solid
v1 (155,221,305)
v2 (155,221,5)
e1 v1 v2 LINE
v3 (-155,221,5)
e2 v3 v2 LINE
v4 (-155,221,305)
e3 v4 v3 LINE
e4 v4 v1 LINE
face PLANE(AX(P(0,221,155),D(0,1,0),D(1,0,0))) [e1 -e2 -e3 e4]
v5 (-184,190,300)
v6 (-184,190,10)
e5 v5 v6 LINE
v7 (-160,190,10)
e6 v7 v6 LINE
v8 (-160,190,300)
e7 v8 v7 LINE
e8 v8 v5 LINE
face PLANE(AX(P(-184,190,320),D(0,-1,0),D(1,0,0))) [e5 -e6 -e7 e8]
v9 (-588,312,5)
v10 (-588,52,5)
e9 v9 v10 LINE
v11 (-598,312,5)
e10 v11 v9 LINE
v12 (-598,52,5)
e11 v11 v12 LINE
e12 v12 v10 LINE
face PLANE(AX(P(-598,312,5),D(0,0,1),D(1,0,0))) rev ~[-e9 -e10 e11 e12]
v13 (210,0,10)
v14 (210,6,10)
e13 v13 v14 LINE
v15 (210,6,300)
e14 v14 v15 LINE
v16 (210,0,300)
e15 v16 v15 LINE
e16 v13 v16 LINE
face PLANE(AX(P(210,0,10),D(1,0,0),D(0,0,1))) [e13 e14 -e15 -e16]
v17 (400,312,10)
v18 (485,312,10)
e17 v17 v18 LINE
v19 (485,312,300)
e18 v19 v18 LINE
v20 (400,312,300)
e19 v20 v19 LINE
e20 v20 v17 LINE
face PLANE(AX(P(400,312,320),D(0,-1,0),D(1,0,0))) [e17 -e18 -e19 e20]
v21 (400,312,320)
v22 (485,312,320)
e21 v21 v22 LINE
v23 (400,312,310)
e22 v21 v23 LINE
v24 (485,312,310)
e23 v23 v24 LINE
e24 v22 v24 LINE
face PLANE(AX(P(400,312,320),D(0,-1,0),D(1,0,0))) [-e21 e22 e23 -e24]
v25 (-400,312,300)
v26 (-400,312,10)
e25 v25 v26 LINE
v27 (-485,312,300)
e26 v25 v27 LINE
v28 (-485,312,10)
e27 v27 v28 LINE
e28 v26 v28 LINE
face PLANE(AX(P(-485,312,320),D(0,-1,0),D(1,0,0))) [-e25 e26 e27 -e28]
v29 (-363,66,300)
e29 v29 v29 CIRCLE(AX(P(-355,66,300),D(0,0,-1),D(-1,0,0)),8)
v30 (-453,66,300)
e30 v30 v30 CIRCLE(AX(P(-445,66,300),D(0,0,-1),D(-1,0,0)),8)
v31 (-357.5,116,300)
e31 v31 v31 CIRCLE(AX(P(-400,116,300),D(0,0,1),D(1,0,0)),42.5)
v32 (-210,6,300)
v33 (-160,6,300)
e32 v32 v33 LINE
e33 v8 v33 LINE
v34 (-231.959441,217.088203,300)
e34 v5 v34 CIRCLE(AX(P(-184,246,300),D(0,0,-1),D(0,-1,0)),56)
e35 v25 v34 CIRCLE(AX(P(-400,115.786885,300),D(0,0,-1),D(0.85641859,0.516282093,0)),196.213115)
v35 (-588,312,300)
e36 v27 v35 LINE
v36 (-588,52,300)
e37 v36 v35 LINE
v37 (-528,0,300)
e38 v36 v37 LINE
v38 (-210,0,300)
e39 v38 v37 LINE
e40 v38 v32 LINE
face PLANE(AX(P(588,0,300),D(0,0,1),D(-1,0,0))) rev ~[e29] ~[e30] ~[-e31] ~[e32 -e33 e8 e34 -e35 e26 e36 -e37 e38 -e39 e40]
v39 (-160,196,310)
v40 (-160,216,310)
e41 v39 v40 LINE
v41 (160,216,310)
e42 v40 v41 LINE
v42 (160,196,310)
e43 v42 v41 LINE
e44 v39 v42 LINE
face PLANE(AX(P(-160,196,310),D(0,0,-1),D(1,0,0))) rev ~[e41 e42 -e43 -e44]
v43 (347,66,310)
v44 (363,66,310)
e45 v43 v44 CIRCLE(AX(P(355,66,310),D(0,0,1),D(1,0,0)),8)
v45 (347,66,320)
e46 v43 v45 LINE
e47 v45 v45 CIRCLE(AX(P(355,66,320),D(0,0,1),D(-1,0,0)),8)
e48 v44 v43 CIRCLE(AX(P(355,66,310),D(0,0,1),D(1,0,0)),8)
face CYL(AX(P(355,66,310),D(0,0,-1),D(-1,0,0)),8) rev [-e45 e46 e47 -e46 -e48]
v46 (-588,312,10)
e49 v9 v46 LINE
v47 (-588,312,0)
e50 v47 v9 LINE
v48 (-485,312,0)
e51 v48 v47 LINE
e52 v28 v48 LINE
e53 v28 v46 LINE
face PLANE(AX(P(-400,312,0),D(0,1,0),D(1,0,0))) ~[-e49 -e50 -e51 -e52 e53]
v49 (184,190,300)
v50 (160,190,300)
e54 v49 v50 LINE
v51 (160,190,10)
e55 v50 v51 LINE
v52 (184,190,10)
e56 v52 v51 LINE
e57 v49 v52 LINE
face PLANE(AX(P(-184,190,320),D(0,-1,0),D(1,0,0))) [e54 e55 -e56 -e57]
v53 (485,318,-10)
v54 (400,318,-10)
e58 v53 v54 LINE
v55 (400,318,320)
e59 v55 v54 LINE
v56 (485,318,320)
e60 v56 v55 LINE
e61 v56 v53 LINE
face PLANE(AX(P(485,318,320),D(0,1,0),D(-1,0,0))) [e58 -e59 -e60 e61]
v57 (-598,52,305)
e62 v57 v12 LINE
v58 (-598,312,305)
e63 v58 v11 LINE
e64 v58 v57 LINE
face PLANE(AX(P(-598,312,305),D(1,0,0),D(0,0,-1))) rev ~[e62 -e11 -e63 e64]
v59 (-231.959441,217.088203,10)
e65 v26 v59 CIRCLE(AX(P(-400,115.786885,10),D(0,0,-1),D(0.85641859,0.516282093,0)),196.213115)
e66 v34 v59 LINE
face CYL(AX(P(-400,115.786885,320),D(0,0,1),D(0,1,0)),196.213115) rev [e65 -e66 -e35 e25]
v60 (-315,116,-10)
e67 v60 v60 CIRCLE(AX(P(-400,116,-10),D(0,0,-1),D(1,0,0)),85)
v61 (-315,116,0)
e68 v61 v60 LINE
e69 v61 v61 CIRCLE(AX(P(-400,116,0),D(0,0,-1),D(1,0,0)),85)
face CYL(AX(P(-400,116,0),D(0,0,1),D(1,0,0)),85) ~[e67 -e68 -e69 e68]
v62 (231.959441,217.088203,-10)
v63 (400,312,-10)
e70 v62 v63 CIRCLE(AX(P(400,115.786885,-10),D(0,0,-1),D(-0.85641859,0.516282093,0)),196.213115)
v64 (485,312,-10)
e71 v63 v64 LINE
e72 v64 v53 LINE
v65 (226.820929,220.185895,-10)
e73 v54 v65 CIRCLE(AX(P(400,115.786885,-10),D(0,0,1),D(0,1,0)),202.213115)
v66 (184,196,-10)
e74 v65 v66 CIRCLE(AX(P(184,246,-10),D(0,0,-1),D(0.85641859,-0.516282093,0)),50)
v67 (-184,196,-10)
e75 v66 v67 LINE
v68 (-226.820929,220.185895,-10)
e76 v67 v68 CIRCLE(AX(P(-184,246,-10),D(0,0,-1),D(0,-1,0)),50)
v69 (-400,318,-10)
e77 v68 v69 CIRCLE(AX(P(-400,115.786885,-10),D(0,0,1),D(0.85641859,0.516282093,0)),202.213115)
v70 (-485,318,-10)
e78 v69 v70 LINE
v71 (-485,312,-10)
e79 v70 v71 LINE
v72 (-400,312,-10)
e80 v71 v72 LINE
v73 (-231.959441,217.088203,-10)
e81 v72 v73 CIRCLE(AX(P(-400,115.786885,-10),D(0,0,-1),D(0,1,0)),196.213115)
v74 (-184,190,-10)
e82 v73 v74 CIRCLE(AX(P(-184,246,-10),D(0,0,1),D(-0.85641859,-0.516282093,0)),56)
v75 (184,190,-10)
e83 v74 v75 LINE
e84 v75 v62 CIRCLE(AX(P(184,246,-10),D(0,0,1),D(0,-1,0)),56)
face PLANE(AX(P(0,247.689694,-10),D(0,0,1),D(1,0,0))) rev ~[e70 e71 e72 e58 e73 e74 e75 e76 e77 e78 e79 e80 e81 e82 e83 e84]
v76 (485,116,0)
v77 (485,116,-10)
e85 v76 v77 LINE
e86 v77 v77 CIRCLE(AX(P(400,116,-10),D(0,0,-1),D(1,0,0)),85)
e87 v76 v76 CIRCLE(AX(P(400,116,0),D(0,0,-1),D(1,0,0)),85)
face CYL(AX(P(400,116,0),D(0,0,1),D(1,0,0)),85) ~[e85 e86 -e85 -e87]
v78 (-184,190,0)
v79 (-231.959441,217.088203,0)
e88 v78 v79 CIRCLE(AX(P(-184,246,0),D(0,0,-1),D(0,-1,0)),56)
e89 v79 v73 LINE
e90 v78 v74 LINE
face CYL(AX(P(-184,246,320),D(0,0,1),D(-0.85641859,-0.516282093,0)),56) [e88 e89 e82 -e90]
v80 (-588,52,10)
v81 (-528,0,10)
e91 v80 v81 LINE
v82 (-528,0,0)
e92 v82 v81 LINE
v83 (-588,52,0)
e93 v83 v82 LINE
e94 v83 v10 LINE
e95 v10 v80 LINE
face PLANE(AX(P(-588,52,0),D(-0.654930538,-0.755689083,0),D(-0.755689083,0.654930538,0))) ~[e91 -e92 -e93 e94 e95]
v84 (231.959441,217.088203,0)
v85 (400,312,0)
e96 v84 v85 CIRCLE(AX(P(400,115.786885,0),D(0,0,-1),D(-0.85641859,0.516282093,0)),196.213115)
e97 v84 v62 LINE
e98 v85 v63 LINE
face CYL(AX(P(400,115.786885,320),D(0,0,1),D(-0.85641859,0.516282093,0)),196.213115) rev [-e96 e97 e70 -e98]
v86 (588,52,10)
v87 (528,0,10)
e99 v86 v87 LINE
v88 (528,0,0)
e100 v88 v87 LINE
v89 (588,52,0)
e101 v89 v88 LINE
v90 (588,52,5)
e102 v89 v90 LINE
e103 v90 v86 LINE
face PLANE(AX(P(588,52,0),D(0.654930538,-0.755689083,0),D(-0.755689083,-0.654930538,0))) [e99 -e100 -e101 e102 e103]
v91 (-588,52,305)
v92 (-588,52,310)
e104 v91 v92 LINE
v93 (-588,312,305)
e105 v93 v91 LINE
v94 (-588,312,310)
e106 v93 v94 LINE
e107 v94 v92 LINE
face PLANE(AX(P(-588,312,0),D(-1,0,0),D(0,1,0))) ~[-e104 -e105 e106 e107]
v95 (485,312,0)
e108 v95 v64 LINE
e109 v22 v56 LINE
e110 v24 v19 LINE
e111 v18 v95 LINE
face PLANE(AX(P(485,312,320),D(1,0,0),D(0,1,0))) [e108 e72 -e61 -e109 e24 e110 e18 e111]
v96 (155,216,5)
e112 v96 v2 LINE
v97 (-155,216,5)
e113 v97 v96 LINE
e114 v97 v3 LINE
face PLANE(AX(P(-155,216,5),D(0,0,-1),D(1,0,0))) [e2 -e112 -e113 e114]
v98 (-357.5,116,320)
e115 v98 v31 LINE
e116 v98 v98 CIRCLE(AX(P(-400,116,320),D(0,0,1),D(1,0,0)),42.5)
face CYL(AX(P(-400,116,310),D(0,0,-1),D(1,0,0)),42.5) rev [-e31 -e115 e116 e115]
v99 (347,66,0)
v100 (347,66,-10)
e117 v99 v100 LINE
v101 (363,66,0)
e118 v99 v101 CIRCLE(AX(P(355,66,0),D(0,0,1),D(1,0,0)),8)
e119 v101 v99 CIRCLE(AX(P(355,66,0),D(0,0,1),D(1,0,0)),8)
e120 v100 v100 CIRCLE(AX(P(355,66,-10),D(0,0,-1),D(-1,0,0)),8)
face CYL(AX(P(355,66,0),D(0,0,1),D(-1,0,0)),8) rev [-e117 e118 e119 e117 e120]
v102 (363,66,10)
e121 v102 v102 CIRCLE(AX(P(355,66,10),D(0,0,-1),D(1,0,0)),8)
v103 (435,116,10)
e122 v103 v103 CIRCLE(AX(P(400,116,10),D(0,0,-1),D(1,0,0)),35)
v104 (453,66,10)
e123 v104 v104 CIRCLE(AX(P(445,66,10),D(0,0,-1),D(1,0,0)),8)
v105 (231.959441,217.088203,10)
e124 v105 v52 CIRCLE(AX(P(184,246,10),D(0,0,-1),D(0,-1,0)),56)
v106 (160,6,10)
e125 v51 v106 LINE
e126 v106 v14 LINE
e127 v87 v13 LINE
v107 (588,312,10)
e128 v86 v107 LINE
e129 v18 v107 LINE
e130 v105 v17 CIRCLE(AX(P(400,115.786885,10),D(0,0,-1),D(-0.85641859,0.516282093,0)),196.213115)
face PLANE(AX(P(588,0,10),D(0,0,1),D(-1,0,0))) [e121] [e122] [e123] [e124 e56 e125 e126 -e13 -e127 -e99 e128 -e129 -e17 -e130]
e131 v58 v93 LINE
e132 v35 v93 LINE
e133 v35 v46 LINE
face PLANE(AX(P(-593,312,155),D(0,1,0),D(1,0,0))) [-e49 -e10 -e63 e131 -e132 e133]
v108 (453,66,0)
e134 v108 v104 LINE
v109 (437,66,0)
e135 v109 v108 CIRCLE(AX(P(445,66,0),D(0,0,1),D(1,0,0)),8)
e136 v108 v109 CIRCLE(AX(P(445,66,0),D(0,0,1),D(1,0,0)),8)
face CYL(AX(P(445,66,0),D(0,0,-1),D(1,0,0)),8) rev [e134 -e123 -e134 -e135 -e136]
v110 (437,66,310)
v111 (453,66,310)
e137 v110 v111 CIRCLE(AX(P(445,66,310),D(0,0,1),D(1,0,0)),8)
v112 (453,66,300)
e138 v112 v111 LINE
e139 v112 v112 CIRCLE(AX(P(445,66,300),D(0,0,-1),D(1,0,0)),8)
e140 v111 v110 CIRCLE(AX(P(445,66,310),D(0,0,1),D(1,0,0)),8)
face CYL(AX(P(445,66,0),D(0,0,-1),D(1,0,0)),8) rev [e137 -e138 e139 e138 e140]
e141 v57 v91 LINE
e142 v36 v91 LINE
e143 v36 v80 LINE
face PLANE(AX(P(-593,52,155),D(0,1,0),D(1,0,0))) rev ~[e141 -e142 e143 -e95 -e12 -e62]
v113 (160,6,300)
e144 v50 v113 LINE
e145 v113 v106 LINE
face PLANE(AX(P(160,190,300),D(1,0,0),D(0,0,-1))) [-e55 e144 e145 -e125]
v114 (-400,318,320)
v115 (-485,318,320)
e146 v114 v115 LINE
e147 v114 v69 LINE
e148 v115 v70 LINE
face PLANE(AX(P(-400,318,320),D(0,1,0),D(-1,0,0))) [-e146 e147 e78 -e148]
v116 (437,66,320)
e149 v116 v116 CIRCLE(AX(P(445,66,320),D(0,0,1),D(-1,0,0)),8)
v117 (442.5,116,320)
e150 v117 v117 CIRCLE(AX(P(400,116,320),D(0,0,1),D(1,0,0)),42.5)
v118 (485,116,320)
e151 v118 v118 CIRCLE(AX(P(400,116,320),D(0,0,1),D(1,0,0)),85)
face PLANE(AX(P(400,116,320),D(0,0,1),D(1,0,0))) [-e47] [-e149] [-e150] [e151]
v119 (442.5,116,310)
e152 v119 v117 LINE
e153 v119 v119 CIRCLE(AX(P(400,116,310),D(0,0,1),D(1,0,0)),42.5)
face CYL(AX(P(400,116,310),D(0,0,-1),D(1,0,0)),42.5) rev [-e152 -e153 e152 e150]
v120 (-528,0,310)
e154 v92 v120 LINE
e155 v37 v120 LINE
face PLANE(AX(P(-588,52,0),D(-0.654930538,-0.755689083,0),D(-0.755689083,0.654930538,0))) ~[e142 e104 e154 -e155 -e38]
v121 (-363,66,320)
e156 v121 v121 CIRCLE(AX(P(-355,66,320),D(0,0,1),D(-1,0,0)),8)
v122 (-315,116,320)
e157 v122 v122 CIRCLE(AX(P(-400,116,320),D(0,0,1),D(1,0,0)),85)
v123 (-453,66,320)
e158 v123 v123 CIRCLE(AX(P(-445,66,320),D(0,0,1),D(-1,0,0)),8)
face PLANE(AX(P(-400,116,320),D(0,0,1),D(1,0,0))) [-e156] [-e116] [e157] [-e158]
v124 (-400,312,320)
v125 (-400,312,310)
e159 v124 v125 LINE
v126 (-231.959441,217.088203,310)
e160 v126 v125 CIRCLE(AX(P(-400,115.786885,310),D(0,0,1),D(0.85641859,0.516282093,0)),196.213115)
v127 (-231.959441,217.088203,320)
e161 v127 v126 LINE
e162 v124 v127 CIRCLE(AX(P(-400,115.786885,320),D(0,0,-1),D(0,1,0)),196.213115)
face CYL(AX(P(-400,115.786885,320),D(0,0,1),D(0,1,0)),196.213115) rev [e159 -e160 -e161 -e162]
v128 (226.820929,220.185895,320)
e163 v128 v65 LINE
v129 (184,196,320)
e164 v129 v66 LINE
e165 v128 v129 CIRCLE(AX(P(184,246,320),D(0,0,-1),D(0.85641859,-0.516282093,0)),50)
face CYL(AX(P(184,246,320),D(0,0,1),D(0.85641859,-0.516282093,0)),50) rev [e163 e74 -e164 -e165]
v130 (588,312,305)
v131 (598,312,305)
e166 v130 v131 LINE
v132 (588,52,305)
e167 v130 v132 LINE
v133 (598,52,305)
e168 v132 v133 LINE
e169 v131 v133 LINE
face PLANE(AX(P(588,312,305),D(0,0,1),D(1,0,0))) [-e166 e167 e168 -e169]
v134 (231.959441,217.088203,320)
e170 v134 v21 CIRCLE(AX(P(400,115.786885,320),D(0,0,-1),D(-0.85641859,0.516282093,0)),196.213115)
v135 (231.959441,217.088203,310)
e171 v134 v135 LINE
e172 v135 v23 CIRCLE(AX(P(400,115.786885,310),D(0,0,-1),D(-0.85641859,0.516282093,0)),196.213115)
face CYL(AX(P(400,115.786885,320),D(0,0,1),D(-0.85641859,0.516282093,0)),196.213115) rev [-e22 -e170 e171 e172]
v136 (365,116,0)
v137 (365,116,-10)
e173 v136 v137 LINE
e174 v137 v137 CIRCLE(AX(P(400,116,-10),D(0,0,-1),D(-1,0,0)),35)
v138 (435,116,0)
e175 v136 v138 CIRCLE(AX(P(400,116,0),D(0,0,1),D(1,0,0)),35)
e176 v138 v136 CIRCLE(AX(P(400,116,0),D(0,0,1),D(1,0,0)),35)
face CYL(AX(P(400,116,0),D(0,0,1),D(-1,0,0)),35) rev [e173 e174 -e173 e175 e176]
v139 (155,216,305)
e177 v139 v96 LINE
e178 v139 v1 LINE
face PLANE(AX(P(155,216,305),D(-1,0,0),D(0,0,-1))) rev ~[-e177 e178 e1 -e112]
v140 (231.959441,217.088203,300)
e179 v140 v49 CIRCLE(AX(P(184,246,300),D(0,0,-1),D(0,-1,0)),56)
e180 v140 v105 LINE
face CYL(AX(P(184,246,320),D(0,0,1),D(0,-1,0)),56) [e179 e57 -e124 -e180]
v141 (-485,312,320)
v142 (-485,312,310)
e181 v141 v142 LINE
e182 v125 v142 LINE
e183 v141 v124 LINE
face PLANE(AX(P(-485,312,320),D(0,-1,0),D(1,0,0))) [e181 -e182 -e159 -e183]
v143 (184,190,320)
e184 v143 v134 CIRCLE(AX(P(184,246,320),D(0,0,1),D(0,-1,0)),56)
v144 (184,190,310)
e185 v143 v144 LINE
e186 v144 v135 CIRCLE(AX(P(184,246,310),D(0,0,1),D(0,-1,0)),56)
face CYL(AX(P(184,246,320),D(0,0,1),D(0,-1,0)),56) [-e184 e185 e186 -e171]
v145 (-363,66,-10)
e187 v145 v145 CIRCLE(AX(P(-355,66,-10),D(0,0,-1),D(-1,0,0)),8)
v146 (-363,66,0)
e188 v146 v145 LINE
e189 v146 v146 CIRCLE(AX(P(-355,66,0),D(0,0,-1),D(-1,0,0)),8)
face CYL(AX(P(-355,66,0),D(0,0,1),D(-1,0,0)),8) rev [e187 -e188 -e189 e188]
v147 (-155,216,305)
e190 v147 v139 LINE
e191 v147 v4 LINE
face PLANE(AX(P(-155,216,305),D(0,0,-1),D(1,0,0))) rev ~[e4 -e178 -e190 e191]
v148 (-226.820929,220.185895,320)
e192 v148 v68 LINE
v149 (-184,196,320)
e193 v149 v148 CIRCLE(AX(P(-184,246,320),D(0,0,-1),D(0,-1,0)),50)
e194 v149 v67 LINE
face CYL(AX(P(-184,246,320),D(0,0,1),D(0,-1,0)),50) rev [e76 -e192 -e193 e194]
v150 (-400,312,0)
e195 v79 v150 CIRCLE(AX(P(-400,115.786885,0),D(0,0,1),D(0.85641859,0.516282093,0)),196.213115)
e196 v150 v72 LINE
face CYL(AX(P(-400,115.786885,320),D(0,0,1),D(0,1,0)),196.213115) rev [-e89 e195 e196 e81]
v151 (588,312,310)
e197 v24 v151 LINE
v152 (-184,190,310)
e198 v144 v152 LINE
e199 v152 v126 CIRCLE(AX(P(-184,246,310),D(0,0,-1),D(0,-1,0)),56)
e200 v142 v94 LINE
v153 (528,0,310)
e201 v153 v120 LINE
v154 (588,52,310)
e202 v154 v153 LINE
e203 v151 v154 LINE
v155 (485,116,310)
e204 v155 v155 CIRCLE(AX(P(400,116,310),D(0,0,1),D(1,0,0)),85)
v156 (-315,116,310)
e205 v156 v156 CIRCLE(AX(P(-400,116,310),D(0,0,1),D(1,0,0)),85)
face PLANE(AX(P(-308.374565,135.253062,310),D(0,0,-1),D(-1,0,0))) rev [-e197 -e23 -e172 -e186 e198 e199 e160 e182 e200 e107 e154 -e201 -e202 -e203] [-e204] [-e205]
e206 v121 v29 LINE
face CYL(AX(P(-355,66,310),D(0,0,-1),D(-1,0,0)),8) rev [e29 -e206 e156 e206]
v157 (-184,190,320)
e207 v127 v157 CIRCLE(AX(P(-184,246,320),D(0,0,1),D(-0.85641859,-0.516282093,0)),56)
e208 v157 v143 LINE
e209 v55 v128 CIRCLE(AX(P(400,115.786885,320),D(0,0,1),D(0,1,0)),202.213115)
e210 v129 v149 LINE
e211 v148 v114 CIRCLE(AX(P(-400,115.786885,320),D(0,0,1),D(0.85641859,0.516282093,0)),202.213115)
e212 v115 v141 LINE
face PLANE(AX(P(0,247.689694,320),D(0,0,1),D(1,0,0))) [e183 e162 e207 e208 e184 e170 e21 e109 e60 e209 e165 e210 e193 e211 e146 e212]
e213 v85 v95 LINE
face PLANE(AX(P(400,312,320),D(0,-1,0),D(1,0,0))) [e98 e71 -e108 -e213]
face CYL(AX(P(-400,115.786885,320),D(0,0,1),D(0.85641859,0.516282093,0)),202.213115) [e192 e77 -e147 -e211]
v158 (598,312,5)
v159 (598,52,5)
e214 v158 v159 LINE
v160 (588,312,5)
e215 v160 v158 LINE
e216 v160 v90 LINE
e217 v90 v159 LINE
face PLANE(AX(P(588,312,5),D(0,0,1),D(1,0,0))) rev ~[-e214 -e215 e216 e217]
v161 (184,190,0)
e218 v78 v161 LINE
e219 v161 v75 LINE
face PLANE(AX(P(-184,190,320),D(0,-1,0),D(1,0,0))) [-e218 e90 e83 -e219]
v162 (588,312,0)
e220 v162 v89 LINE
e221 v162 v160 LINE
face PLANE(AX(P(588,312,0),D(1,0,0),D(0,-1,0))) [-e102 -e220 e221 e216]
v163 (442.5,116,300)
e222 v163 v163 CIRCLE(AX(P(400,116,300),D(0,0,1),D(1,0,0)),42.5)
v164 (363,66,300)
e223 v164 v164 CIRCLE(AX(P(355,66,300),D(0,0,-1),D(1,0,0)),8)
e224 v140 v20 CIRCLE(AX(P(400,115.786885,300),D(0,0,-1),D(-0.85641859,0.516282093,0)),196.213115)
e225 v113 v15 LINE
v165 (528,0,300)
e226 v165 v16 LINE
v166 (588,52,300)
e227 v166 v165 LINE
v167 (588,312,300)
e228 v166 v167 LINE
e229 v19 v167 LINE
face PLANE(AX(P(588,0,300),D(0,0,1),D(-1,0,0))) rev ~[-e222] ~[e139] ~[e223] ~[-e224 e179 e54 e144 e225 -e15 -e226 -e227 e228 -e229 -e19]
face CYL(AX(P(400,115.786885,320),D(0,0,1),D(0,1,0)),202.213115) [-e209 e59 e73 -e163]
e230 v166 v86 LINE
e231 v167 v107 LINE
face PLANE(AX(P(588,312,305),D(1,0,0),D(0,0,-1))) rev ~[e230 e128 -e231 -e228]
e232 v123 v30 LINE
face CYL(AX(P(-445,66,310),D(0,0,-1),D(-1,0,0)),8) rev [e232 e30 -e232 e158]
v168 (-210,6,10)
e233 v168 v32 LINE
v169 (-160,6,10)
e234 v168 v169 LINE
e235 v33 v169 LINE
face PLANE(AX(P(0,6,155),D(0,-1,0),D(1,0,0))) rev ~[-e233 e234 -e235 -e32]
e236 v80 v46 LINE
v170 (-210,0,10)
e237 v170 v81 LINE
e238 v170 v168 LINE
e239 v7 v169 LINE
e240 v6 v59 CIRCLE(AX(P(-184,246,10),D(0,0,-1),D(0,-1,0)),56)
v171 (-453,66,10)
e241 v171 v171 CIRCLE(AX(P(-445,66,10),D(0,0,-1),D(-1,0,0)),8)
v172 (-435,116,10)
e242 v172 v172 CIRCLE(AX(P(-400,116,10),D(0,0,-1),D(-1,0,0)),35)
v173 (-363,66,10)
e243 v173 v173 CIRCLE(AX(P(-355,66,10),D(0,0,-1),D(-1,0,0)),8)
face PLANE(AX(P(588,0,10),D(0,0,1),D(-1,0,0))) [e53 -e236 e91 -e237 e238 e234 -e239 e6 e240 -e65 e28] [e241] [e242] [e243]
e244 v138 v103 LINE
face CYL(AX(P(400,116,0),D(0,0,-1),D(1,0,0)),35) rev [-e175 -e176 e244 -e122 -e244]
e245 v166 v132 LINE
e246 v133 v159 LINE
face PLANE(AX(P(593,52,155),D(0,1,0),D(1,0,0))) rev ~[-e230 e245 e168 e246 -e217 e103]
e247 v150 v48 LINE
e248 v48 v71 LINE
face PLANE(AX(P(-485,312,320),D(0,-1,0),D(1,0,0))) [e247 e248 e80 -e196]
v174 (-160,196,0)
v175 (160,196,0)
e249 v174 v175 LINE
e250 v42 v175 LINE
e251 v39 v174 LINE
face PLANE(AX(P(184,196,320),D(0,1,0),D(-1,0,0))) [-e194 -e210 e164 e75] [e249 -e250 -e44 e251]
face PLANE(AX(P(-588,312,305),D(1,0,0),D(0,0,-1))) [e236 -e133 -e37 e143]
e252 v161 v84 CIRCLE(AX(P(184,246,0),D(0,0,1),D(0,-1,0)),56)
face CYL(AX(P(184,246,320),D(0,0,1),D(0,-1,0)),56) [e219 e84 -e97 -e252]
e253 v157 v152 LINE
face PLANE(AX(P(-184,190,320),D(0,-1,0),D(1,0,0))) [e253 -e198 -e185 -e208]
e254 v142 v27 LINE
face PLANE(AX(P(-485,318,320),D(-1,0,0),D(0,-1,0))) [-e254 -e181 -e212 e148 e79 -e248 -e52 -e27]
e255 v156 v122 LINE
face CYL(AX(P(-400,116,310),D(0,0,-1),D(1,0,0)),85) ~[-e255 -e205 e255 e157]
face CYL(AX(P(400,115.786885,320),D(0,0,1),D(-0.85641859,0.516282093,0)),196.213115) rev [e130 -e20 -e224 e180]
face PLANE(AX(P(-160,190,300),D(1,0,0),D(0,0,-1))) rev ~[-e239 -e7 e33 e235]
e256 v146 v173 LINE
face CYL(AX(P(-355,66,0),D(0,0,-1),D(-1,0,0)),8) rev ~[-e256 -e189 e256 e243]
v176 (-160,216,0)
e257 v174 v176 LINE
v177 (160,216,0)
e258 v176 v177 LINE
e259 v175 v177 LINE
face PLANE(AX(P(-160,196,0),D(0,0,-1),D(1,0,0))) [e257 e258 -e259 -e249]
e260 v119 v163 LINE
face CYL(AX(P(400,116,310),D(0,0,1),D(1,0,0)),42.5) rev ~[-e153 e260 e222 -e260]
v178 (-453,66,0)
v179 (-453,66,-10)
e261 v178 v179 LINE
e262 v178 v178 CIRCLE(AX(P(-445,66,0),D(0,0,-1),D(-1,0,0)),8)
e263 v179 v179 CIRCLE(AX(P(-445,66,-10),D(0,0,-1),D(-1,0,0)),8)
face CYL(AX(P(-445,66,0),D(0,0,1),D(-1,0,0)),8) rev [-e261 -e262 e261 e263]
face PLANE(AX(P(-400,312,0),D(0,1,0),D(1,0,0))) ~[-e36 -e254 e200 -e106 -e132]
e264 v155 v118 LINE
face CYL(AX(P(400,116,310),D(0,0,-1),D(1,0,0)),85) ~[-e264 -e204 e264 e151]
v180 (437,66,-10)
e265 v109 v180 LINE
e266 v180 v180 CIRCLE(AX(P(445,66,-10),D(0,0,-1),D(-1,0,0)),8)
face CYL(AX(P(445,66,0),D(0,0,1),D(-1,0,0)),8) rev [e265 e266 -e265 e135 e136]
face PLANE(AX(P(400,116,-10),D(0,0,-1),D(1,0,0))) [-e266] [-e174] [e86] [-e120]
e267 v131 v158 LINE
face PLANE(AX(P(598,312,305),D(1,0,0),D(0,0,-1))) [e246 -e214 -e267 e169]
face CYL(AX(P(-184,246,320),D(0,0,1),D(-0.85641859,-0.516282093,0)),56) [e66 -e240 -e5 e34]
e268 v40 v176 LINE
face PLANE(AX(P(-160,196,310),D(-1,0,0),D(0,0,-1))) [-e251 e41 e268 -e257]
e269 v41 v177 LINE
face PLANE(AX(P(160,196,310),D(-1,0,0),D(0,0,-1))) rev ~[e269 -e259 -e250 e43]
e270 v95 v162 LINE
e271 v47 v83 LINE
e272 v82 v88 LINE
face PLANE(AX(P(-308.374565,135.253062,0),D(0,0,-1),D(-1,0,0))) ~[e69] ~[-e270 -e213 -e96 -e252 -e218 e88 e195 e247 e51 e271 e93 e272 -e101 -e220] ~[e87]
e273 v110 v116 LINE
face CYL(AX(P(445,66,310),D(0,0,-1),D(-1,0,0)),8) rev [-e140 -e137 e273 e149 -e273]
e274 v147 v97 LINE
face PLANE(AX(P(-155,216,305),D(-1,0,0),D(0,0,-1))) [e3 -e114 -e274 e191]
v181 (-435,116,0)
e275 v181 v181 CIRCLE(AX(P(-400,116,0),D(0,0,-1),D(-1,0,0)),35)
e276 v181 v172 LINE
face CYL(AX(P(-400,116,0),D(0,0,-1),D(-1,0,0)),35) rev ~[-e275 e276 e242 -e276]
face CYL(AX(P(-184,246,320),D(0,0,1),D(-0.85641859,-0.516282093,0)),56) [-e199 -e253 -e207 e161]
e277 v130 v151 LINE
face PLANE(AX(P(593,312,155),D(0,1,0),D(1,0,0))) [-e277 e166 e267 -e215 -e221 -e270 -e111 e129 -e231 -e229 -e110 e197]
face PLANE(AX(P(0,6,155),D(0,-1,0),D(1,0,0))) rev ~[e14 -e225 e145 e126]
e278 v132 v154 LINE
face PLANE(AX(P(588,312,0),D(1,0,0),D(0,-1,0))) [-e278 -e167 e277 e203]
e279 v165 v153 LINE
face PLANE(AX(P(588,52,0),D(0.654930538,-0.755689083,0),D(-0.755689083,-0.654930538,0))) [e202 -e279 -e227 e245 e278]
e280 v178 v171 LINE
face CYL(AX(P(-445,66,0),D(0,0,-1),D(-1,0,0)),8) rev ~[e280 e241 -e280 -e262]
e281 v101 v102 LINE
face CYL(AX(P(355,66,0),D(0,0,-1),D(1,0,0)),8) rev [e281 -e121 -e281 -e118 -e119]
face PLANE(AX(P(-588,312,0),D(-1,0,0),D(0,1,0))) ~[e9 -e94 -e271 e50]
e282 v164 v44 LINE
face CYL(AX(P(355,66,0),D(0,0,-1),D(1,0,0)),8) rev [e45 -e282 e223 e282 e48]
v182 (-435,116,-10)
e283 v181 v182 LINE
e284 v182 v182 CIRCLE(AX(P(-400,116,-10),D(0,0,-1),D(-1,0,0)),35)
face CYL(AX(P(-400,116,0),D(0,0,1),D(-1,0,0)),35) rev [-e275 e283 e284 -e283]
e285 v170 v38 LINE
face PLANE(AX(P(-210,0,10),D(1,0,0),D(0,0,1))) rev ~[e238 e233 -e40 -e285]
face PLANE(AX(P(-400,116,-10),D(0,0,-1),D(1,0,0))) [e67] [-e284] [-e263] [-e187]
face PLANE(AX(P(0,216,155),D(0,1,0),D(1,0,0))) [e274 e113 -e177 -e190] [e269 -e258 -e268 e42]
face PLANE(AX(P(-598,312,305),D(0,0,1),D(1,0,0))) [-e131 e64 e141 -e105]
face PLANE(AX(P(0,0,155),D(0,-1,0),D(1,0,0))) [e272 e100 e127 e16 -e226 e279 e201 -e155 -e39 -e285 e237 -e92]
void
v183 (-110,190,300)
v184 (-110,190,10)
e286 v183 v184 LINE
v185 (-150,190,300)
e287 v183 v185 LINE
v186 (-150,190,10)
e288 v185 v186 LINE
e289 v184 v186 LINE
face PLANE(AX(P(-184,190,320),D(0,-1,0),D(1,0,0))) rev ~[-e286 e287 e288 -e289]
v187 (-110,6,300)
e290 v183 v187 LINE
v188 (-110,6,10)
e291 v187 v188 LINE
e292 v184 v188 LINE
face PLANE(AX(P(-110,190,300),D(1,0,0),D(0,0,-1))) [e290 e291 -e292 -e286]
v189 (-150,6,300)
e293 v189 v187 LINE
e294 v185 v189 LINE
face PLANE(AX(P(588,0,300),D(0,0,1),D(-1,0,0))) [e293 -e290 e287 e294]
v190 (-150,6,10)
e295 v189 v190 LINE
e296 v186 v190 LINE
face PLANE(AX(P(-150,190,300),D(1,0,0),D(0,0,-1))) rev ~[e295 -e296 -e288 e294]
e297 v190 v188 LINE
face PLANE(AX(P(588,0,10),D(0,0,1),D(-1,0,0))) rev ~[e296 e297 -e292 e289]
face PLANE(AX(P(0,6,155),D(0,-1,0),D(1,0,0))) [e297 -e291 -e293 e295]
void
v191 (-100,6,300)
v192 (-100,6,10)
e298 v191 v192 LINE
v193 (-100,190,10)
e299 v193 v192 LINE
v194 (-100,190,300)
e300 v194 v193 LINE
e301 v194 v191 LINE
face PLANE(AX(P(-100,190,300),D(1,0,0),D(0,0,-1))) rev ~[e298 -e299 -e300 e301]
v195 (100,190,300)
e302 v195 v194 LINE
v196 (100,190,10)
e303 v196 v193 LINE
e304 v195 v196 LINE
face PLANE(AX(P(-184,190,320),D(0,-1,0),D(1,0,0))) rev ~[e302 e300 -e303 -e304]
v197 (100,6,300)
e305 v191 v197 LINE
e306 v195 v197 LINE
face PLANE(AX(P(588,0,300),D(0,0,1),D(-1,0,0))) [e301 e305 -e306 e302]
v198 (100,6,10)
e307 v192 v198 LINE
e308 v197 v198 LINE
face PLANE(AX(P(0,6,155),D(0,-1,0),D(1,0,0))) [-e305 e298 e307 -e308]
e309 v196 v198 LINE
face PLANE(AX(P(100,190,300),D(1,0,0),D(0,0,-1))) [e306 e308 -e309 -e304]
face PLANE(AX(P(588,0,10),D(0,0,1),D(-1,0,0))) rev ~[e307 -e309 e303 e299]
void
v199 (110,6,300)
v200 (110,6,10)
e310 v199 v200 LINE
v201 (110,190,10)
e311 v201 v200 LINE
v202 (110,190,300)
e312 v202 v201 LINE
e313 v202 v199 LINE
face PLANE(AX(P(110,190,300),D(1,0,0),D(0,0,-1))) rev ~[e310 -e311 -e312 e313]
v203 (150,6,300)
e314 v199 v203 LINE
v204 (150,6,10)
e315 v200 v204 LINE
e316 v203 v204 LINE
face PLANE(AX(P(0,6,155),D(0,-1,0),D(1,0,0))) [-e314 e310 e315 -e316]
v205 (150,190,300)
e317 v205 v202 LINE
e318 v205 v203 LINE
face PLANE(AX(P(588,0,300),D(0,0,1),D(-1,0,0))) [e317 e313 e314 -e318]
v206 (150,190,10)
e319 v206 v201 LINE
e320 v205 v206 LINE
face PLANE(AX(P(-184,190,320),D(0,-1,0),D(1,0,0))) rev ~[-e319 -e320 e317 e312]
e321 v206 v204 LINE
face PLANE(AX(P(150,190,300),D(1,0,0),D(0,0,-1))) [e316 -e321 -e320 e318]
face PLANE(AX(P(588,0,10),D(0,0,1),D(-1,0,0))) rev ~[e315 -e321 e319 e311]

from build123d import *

# Parameters (mm, degrees)
SKETCH_1_R          = 35
SKETCH_1_R_2        = 8
EXTRUDE_1_DEPTH     = 310
SKETCH_2_W          = 1176
SKETCH_2_H          = 290
CUT_EXTRUDE_1_DEPTH = 735.294218961
EXTRUDE_2_DEPTH     = 330
SKETCH_4_R          = 42.5
CUT_EXTRUDE_2_DEPTH = 10
SKETCH_5_R          = 85
SKETCH_5_R_2        = 42.5
SKETCH_5_R_3        = 8
EXTRUDE_3_DEPTH     = 10
SKETCH_6_R          = 85
SKETCH_6_R_2        = 8
SKETCH_6_R_3        = 35
EXTRUDE_4_DEPTH     = 10
SKETCH_7_W          = 10
SKETCH_7_H          = 290
EXTRUDE_5_DEPTH     = 184
SKETCH_8_W          = 420
SKETCH_8_H          = 290
EXTRUDE_6_DEPTH     = 6
SKETCH_9_W          = 10
SKETCH_9_H          = 300
EXTRUDE_7_DEPTH     = 260
SKETCH_10_W         = 320
SKETCH_10_H         = 310
EXTRUDE_8_DEPTH     = 20
SKETCH_11_W         = 310
SKETCH_11_H         = 300
EXTRUDE_9_DEPTH     = 5


with BuildPart() as part:
    # 草图1 → 凸台-拉伸1 (new body)
    with BuildSketch(Plane.XY):
        with BuildLine():
            Line((0, 0), (0, 190))
            Line((0, 190), (184, 190))
            ThreePointArc((184, 190), (211.540328216, 197.240074634), (231.959441014, 217.088202795))
            ThreePointArc((231.959441014, 217.088202795), (303.504043203, 286.632185805), (400, 312))
            Line((400, 312), (588, 312))
            Line((588, 312), (588, 52))
            Line((588, 52), (528, 0))
            Line((528, 0), (0, 0))
        make_face()
        with Locations((400, 116)):
            Circle(SKETCH_1_R, mode=Mode.SUBTRACT)
        with Locations((355, 66)):
            Circle(SKETCH_1_R_2, mode=Mode.SUBTRACT)
        with Locations((445, 66)):
            Circle(SKETCH_1_R_2, mode=Mode.SUBTRACT)
    extrude_1 = extrude(amount=EXTRUDE_1_DEPTH)

    # 镜向1: 凸台-拉伸1 across plane
    add(extrude_1.mirror(Plane(origin=(0, 0, 0), x_dir=(0, 0, 1), z_dir=(1, 0, 0))))

    # 草图2 → 切除-拉伸1 (cut, through all)
    with BuildSketch(Plane(origin=(0, 0, 0), x_dir=(-1, 0, 0), z_dir=(0, -1, 0))):
        with Locations((0, -155)):
            Rectangle(SKETCH_2_W, SKETCH_2_H)
    extrude(amount=-CUT_EXTRUDE_1_DEPTH, mode=Mode.SUBTRACT)


with BuildPart() as cut_extrude_1_piece_1:
    # of the separate pieces the step leaves, piece 1, a body of its own (cut_extrude_1_pieces)
    add(part.part.solids().sort_by_distance((184, 190, 0))[0])



with BuildPart() as cut_extrude_1_piece_2:
    # of the separate pieces the step leaves, piece 2, a body of its own (cut_extrude_1_pieces)
    add(part.part.solids().sort_by_distance((184, 190, 300))[0])

    # 草图4 → 切除-拉伸2 (cut)
    with BuildSketch(Plane.XY.offset(310)):
        with Locations((-400, 116)):
            Circle(SKETCH_4_R)
        with Locations((400, 116)):
            Circle(SKETCH_4_R)
    extrude(amount=-CUT_EXTRUDE_2_DEPTH, mode=Mode.SUBTRACT)


with BuildPart() as body_3:
    # 草图3 → 凸台-拉伸2 (new body)
    with BuildSketch(Plane.XY.offset(320)):
        with BuildLine():
            Line((-184, 190), (184, 190))
            ThreePointArc((184, 190), (211.540328216, 197.240074634), (231.959441014, 217.088202795))
            ThreePointArc((231.959441014, 217.088202795), (303.504043203, 286.632185805), (400, 312))
            Line((400, 312), (485, 312))
            Line((485, 312), (485, 318))
            Line((485, 318), (400, 318))
            ThreePointArc((400, 318), (300.553293751, 291.856463523), (226.820929477, 220.185895353))
            ThreePointArc((226.820929477, 220.185895353), (208.589578764, 202.464352351), (184, 196))
            Line((184, 196), (-184, 196))
            ThreePointArc((-184, 196), (-208.589578764, 202.464352351), (-226.820929477, 220.185895353))
            ThreePointArc((-226.820929477, 220.185895353), (-300.553293751, 291.856463523), (-400, 318))
            Line((-400, 318), (-485, 318))
            Line((-485, 318), (-485, 312))
            Line((-485, 312), (-400, 312))
            ThreePointArc((-400, 312), (-303.504043203, 286.632185805), (-231.959441014, 217.088202795))
            ThreePointArc((-231.959441014, 217.088202795), (-211.540328216, 197.240074634), (-184, 190))
        make_face()
    extrude(amount=-EXTRUDE_2_DEPTH)


    add(cut_extrude_1_piece_2.part)  # 凸台-拉伸3 merges 切除-拉伸1 piece 2
    # 草图5 → 凸台-拉伸3 (add)
    # profile 1 of 2: a face of its own
    with BuildSketch(Plane.XY.offset(310)):
        with Locations((-400, 116)):
            Circle(SKETCH_5_R)
        with Locations((-400, 116)):
            Circle(SKETCH_5_R_2, mode=Mode.SUBTRACT)
        with Locations(Location((-355, 66, 0), (0, 0, 180))):
            Circle(SKETCH_5_R_3, mode=Mode.SUBTRACT)
        with Locations(Location((-445, 66, 0), (0, 0, 180))):
            Circle(SKETCH_5_R_3, mode=Mode.SUBTRACT)
    # profile 2 of 2: a face of its own
    with BuildSketch(Plane.XY.offset(310)):
        with Locations((400, 116)):
            Circle(SKETCH_5_R)
        with Locations(Location((355, 66, 0), (0, 0, 180))):
            Circle(SKETCH_5_R_3, mode=Mode.SUBTRACT)
        with Locations(Location((445, 66, 0), (0, 0, 180))):
            Circle(SKETCH_5_R_3, mode=Mode.SUBTRACT)
        with Locations((400, 116)):
            Circle(SKETCH_5_R_2, mode=Mode.SUBTRACT)
    extrude(amount=EXTRUDE_3_DEPTH)


with BuildPart() as cut_extrude_1_piece_1_1:
    add(cut_extrude_1_piece_1.part)

    add(body_3.part)  # 凸台-拉伸4 merges body 3
    # 草图6 → 凸台-拉伸4 (add)
    # profile 1 of 2: a face of its own
    with BuildSketch(Plane(origin=(0, 0, 0), x_dir=(-1, 0, 0), z_dir=(0, 0, -1))):
        with Locations(Location((-400, 116, 0), (0, 0, 180))):
            Circle(SKETCH_6_R)
        with Locations((-355, 66)):
            Circle(SKETCH_6_R_2, mode=Mode.SUBTRACT)
        with Locations((-445, 66)):
            Circle(SKETCH_6_R_2, mode=Mode.SUBTRACT)
        with Locations((-400, 116)):
            Circle(SKETCH_6_R_3, mode=Mode.SUBTRACT)
    # profile 2 of 2: a face of its own
    with BuildSketch(Plane(origin=(0, 0, 0), x_dir=(-1, 0, 0), z_dir=(0, 0, -1))):
        with Locations(Location((400, 116, 0), (0, 0, 180))):
            Circle(SKETCH_6_R)
        with Locations((445, 66)):
            Circle(SKETCH_6_R_2, mode=Mode.SUBTRACT)
        with Locations((355, 66)):
            Circle(SKETCH_6_R_2, mode=Mode.SUBTRACT)
        with Locations((400, 116)):
            Circle(SKETCH_6_R_3, mode=Mode.SUBTRACT)
    extrude(amount=EXTRUDE_4_DEPTH)

    # 草图7 → 凸台-拉伸5 (add)
    with BuildSketch(Plane(origin=(0, 190, 0), x_dir=(-1, 0, 0), z_dir=(0, -1, 0))):
        with Locations((-105, -155)):
            Rectangle(SKETCH_7_W, SKETCH_7_H)
        with Locations((-155, -155)):
            Rectangle(SKETCH_7_W, SKETCH_7_H)
        with Locations((105, -155)):
            Rectangle(SKETCH_7_W, SKETCH_7_H)
        with Locations((155, -155)):
            Rectangle(SKETCH_7_W, SKETCH_7_H)
    extrude(amount=EXTRUDE_5_DEPTH)

    # 草图8 → 凸台-拉伸6 (add)
    with BuildSketch(Plane.XZ):
        with Locations((0, 155)):
            Rectangle(SKETCH_8_W, SKETCH_8_H)
    extrude(amount=-EXTRUDE_6_DEPTH)

    # 草图9 → 凸台-拉伸7 (add)
    with BuildSketch(Plane(origin=(0, 312, 0), x_dir=(1, 0, 0), z_dir=(0, 1, 0))):
        with Locations((593, -155)):
            Rectangle(SKETCH_9_W, SKETCH_9_H)
        with Locations((-593, -155)):
            Rectangle(SKETCH_9_W, SKETCH_9_H)
    extrude(amount=-EXTRUDE_7_DEPTH)

    # 草图10 → 凸台-拉伸8 (add)
    with BuildSketch(Plane(origin=(0, 196, 0), x_dir=(1, 0, 0), z_dir=(0, 1, 0))):
        with Locations((0, -155)):
            Rectangle(SKETCH_10_W, SKETCH_10_H)
    extrude(amount=EXTRUDE_8_DEPTH)

    # 草图11 → 凸台-拉伸9 (add)
    with BuildSketch(Plane(origin=(0, 216, 0), x_dir=(1, 0, 0), z_dir=(0, 1, 0))):
        with Locations((0, -155)):
            Rectangle(SKETCH_11_W, SKETCH_11_H)
    extrude(amount=EXTRUDE_9_DEPTH)


solid = cut_extrude_1_piece_1_1.part
